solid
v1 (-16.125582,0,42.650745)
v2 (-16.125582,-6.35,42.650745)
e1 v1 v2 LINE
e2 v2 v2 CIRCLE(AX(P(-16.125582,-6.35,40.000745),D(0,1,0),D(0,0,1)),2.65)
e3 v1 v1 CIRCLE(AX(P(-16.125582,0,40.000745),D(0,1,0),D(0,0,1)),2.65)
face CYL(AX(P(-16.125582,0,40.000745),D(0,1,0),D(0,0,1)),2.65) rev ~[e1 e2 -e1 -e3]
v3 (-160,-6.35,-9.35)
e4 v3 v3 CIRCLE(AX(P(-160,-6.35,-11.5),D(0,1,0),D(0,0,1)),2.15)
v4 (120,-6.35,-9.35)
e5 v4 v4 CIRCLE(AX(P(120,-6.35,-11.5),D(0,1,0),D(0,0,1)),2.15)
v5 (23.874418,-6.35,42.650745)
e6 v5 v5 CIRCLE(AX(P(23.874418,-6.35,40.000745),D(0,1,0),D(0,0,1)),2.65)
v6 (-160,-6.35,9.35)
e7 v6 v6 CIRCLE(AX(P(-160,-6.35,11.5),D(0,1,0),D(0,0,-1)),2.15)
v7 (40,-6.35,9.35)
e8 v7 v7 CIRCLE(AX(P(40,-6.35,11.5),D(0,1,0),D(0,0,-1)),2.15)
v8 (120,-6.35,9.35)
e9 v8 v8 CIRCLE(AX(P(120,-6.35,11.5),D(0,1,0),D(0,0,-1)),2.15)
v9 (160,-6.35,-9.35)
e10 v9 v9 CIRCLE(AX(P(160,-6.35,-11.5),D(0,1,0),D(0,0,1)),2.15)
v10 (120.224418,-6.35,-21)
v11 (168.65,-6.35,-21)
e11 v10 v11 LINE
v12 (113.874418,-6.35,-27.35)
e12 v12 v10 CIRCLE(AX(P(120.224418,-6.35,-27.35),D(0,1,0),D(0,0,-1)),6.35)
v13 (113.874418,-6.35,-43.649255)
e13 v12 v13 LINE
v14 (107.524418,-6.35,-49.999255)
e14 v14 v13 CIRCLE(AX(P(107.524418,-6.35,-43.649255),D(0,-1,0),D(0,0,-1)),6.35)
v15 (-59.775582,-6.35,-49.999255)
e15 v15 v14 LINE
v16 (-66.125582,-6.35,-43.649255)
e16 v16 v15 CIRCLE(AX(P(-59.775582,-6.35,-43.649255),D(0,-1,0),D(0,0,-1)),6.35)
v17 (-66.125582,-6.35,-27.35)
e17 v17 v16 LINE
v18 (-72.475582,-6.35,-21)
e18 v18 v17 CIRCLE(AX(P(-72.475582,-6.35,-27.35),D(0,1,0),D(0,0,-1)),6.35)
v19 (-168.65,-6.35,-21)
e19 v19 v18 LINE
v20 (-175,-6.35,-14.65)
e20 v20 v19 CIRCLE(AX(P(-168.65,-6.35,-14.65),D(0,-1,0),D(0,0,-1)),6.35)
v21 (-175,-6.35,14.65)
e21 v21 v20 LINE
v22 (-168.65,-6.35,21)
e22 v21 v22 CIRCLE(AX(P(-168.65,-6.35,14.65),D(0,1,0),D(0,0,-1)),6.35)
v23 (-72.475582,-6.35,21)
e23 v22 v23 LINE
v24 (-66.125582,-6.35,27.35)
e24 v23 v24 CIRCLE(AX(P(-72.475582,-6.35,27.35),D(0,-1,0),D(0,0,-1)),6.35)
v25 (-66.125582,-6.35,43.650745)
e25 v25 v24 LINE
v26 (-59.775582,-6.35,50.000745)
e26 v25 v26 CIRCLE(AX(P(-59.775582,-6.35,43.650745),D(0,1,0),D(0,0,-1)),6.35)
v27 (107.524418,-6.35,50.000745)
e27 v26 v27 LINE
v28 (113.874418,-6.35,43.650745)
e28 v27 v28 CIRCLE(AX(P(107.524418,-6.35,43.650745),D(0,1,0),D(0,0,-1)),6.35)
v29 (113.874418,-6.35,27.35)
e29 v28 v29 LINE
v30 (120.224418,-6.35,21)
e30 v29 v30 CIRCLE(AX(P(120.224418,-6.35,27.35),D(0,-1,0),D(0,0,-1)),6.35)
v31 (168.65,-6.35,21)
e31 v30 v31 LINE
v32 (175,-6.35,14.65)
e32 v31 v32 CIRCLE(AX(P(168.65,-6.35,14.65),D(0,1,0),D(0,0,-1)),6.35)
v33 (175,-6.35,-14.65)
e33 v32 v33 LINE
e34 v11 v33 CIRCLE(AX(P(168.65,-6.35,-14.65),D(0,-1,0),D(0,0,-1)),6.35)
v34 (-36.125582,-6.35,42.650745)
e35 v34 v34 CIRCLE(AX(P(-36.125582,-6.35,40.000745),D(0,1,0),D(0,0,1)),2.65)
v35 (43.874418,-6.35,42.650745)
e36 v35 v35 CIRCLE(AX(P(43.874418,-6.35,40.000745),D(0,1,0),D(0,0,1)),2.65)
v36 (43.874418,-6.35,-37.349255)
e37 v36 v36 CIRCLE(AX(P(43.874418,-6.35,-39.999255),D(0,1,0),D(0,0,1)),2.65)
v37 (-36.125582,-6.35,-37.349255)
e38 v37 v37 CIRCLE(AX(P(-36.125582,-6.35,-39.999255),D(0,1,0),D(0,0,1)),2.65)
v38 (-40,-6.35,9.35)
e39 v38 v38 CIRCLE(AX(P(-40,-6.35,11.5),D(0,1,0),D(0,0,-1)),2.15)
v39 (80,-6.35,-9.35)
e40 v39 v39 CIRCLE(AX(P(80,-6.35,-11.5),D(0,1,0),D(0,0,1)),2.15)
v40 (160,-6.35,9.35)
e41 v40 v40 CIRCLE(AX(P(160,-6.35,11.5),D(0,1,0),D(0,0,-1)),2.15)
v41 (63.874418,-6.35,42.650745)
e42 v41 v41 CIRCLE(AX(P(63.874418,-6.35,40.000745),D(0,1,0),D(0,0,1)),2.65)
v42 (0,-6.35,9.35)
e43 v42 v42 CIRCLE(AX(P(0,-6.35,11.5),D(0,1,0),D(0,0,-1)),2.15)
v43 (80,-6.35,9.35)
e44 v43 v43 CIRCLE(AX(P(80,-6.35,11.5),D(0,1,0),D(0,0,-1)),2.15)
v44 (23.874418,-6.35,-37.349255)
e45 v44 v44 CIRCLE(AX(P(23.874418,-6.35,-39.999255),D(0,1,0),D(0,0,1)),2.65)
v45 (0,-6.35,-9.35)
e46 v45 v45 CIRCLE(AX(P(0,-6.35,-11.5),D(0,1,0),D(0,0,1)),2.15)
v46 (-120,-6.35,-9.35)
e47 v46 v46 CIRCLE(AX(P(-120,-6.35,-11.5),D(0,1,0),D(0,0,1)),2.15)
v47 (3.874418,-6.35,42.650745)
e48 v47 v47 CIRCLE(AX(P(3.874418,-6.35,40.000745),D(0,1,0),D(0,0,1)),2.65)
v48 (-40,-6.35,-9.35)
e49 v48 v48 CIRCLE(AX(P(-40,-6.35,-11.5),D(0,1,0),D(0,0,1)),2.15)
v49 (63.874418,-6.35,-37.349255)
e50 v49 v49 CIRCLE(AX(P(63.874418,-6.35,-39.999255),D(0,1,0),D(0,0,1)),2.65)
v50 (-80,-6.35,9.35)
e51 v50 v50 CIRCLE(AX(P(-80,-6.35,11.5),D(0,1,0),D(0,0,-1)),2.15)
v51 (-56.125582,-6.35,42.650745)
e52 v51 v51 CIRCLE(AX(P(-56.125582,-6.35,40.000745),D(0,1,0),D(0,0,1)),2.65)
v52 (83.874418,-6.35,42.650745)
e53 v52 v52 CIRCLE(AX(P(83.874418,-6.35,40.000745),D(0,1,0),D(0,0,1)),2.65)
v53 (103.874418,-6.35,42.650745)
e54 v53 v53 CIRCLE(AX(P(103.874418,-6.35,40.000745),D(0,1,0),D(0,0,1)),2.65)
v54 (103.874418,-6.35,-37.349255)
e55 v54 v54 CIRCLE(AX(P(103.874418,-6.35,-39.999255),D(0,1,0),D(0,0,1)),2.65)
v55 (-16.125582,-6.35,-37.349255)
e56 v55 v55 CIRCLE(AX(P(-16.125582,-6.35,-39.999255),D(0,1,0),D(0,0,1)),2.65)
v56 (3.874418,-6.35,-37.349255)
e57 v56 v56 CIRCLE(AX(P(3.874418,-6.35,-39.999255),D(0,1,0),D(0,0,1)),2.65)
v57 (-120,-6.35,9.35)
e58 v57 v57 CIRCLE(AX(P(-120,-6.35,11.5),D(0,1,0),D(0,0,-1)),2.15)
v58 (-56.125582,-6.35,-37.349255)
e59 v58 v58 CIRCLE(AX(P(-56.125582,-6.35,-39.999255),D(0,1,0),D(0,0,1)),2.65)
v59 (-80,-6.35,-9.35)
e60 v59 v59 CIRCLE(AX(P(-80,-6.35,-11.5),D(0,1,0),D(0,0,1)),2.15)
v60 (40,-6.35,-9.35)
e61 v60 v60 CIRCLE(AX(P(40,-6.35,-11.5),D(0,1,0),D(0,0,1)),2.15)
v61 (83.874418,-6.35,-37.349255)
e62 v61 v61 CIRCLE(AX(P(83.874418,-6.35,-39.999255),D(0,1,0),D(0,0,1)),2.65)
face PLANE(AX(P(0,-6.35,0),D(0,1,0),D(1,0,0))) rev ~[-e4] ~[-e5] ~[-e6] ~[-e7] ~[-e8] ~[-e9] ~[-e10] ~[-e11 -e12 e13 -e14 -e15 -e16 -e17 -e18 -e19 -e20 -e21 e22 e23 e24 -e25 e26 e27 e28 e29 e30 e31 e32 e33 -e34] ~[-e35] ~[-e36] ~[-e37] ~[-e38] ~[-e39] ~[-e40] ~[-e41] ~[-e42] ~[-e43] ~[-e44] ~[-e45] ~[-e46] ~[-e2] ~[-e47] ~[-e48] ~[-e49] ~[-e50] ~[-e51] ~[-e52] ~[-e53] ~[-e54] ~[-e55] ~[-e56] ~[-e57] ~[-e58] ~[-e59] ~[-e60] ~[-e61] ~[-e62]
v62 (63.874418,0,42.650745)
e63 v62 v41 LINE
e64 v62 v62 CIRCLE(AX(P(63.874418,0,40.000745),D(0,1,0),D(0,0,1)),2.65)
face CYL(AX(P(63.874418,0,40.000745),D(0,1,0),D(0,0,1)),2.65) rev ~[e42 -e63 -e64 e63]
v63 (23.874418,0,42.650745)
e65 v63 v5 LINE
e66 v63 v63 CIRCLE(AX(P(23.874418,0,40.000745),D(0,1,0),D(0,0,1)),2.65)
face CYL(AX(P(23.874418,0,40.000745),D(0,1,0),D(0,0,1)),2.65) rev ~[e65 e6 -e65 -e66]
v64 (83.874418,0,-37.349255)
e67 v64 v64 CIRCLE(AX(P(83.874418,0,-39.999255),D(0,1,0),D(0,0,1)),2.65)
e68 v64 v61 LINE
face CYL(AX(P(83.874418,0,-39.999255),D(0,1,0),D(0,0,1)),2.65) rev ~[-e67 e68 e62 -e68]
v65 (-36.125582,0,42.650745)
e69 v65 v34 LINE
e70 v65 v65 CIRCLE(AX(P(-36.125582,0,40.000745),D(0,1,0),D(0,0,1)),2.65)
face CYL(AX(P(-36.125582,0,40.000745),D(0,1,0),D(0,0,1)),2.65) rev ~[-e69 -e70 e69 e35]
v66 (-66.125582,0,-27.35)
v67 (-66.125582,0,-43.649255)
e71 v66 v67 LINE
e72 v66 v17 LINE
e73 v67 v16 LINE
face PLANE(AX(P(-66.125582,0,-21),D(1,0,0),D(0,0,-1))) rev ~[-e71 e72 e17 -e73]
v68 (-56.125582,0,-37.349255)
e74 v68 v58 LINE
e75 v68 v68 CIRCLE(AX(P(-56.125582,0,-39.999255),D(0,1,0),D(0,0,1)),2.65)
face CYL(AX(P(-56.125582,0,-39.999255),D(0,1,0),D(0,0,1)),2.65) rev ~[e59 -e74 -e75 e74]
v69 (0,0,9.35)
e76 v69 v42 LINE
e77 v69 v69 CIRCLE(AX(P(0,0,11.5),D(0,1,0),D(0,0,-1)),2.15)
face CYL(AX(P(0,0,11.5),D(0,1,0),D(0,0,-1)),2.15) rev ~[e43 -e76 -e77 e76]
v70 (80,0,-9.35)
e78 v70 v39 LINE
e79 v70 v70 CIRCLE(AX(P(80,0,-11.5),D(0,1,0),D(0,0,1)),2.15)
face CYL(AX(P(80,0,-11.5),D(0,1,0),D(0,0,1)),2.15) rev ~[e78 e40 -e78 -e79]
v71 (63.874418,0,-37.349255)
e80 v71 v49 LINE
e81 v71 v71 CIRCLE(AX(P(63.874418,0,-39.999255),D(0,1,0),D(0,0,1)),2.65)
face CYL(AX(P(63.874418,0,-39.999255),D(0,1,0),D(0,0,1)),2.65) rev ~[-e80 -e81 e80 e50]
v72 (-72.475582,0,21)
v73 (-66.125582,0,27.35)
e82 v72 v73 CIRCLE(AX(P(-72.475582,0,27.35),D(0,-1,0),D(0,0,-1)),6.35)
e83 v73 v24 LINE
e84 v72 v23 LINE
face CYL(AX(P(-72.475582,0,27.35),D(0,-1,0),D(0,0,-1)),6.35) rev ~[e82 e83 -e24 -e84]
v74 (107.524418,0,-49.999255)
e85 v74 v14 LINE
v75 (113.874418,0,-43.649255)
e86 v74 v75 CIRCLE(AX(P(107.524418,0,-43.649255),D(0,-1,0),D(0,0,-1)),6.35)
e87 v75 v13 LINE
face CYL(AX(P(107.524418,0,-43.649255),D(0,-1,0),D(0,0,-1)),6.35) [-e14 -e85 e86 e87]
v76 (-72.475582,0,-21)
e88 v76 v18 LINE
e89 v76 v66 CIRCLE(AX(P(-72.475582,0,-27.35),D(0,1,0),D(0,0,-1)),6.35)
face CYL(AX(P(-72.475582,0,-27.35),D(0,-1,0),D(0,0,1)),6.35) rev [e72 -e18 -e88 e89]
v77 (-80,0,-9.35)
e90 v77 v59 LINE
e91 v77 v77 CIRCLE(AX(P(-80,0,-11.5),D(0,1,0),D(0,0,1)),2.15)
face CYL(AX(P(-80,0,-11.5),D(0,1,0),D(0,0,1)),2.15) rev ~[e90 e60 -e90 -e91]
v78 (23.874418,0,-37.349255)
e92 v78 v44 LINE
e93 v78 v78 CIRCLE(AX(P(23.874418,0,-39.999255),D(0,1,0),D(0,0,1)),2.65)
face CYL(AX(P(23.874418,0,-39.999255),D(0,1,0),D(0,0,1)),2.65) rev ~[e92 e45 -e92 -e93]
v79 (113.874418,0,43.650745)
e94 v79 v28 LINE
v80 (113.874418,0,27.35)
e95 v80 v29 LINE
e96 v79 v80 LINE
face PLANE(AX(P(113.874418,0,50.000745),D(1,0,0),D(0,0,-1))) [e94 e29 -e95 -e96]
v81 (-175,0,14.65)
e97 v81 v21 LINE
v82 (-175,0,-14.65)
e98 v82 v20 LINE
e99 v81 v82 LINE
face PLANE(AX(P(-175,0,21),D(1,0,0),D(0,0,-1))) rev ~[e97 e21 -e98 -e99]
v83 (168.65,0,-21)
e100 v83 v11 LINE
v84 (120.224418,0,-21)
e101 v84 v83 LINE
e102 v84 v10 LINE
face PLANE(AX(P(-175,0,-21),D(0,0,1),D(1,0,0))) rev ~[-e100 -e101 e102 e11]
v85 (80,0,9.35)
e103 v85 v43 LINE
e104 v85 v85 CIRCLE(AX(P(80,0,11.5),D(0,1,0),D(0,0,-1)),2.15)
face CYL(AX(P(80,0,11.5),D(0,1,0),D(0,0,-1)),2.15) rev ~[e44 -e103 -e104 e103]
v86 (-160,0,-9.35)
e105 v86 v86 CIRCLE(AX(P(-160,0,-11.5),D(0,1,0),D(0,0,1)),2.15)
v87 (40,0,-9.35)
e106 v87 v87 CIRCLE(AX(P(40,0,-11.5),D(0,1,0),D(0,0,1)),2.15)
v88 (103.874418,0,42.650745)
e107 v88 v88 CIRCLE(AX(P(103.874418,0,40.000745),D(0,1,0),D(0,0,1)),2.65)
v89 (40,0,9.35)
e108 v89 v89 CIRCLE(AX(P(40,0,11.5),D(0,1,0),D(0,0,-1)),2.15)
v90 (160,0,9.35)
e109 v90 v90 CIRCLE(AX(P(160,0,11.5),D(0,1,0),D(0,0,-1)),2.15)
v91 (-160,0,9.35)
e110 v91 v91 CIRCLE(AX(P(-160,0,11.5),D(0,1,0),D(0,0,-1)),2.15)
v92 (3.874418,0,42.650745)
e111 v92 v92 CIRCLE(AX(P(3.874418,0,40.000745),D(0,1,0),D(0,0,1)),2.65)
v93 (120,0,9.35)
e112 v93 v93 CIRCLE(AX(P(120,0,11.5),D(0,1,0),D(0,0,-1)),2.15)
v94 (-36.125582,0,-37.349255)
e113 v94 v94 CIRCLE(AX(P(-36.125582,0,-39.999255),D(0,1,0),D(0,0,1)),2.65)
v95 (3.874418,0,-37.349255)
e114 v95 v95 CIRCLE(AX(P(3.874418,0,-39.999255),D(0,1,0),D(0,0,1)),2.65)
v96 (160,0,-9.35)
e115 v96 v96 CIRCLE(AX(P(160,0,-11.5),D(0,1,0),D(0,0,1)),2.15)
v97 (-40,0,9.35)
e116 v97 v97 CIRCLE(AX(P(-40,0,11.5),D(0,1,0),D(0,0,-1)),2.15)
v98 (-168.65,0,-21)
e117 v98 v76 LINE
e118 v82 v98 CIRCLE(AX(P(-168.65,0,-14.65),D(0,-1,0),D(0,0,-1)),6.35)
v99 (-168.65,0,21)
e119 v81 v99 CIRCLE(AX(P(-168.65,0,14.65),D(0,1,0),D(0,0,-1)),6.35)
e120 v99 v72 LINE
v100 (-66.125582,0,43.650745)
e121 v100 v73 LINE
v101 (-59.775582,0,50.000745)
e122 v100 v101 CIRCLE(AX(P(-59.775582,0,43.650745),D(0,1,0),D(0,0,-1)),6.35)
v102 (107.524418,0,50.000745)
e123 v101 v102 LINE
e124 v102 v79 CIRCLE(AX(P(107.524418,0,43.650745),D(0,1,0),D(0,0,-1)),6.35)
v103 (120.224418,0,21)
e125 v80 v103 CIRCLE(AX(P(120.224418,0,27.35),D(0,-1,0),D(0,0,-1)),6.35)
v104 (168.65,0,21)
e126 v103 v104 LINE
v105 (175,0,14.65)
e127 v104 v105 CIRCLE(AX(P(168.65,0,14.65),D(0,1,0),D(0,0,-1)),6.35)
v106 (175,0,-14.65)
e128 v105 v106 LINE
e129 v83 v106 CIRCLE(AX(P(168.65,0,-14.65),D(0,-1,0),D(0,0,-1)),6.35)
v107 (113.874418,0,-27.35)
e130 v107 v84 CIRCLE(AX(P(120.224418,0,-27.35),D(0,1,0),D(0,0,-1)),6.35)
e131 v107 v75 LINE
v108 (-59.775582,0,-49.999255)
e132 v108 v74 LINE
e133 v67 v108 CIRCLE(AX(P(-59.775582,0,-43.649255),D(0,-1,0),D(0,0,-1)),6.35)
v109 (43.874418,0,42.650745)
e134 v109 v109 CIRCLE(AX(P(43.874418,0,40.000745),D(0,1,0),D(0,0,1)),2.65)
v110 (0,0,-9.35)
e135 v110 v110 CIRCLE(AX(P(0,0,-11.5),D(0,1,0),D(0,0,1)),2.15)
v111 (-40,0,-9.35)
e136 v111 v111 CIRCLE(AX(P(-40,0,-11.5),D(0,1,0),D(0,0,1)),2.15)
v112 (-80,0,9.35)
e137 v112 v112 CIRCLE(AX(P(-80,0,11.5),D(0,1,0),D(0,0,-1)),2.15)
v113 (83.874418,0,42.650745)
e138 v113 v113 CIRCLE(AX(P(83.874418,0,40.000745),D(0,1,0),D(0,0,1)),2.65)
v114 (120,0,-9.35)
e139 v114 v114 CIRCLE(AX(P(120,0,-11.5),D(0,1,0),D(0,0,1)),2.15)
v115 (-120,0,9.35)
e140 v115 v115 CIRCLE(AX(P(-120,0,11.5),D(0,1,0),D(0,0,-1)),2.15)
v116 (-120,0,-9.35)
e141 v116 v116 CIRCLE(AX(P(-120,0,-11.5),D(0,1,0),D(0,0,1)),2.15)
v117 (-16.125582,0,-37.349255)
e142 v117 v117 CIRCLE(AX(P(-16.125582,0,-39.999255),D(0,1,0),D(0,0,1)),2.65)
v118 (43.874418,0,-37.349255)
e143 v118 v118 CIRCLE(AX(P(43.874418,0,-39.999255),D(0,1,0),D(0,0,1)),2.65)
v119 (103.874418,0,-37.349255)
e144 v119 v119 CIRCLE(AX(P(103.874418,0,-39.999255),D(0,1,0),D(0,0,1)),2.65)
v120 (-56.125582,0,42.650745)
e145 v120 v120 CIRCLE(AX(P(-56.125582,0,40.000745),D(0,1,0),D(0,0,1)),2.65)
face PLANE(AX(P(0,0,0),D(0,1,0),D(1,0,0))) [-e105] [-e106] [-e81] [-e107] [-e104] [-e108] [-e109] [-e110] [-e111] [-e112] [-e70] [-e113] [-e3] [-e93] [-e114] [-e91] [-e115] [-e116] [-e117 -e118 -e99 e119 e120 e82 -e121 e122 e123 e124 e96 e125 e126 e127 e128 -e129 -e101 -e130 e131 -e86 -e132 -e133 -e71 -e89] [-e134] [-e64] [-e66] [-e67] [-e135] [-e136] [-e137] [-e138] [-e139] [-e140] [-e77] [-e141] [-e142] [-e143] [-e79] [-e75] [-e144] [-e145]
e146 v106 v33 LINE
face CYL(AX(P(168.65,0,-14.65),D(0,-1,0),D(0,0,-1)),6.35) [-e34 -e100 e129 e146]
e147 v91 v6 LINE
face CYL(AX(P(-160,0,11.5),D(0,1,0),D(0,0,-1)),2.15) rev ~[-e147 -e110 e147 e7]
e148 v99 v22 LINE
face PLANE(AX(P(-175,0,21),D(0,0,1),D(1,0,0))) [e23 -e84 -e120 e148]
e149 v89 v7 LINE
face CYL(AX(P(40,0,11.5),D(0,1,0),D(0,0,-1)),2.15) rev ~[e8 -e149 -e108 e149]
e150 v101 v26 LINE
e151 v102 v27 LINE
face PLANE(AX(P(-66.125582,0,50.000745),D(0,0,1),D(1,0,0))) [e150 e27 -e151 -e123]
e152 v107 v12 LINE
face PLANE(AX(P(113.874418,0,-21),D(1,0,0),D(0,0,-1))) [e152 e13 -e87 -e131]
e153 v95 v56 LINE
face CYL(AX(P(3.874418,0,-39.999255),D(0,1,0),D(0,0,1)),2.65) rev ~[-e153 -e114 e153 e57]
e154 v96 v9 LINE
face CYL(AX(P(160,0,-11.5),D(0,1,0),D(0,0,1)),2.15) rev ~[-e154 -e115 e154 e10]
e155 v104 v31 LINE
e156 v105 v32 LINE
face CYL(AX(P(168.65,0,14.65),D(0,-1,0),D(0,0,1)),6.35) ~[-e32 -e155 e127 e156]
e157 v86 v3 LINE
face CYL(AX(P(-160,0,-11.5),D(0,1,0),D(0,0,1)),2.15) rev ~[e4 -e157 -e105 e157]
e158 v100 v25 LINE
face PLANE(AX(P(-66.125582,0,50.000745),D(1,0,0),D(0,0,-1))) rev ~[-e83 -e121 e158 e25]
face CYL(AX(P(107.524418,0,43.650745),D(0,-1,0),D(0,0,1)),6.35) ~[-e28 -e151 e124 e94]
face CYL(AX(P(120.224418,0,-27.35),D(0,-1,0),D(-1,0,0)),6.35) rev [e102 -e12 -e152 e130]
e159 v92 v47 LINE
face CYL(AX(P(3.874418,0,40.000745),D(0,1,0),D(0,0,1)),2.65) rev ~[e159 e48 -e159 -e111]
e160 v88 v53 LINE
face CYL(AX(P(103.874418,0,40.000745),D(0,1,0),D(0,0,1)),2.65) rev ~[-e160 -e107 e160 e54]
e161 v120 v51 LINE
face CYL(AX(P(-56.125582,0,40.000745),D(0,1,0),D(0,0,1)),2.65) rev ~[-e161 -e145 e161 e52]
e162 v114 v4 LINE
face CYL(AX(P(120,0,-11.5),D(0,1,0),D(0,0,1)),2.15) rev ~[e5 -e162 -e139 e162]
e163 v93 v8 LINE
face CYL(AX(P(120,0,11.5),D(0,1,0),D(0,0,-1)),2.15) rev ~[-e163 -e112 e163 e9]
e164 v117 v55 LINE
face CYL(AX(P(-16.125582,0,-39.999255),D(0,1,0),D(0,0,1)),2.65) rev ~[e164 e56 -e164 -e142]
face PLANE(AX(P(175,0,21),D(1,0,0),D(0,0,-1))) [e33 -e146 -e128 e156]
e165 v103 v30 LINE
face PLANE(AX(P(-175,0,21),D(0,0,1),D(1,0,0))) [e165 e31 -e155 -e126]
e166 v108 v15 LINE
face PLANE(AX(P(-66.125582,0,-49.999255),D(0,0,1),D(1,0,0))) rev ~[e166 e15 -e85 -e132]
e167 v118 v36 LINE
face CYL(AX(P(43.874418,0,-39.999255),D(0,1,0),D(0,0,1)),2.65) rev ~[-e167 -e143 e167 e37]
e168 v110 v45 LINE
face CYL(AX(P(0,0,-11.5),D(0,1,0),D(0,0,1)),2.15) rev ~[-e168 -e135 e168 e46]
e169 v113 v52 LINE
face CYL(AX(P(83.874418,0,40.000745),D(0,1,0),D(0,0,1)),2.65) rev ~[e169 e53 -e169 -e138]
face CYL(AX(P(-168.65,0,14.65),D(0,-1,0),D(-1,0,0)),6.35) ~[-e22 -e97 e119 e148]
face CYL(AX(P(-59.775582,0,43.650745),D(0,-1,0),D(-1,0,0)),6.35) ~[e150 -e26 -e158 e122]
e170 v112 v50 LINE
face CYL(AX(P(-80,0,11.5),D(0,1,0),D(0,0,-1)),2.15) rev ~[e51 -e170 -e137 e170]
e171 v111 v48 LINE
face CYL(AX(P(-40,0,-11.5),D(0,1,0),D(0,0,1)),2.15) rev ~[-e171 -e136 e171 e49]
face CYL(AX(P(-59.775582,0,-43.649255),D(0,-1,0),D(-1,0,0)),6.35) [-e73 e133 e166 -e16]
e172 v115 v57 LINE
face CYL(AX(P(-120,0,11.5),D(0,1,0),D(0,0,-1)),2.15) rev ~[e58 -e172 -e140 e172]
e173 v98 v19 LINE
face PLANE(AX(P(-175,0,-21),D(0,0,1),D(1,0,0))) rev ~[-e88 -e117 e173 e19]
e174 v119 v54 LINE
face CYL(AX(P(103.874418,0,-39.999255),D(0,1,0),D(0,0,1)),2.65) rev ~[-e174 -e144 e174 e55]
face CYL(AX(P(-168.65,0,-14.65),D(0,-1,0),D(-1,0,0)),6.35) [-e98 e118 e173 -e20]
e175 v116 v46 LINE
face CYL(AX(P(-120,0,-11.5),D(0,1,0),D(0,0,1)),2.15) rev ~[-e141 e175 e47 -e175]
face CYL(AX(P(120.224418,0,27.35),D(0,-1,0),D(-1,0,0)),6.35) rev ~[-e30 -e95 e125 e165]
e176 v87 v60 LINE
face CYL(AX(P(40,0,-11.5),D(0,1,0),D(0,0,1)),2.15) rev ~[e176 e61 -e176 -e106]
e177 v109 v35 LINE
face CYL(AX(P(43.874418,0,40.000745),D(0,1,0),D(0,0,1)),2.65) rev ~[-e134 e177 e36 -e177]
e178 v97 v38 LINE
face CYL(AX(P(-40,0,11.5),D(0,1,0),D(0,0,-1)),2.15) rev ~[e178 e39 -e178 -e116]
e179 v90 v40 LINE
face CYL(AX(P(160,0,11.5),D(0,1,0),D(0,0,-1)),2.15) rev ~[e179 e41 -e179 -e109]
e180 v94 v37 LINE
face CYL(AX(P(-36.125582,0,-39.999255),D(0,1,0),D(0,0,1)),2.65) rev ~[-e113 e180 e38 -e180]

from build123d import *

# Parameters (mm, degrees)
SKETCH7_W           = 350
SKETCH7_H           = 42
BOSS_EXTRUDE3_DEPTH = 6.35
SKETCH2_R           = 2.15
CUT_EXTRUDE1_DEPTH  = 177.369845779
SKETCH1_W           = 180
SKETCH1_H           = 29.00074531
SKETCH1_H_2         = 28.99925469
BOSS_EXTRUDE4_DEPTH = 6.35
SKETCH3_R           = 2.65
CUT_EXTRUDE2_DEPTH  = 183.113692598
FILLET2_R           = 6.35


with BuildPart() as part:
    # Sketch7 → Boss-Extrude3 (new body)
    with BuildSketch(Plane(origin=(0, 0, 0), x_dir=(1, 0, 0), z_dir=(0, 1, 0))):
        Rectangle(SKETCH7_W, SKETCH7_H)
    extrude(amount=-BOSS_EXTRUDE3_DEPTH)

    # Sketch2 → Cut-Extrude1 (cut, through all)
    with BuildSketch(Plane(origin=(0, 0, 0), x_dir=(1, 0, 0), z_dir=(0, 1, 0))):
        with Locations(Location((120, 11.5, 0), (0, 0, 270))):
            Circle(SKETCH2_R)
        with Locations(Location((120, -11.5, 0), (0, 0, 90))):
            Circle(SKETCH2_R)
        with Locations(Location((80, 11.5, 0), (0, 0, 270))):
            Circle(SKETCH2_R)
        with Locations(Location((160, 11.5, 0), (0, 0, 270))):
            Circle(SKETCH2_R)
        with Locations(Location((80, -11.5, 0), (0, 0, 90))):
            Circle(SKETCH2_R)
        with Locations(Location((160, -11.5, 0), (0, 0, 90))):
            Circle(SKETCH2_R)
        with Locations(Location((40, 11.5, 0), (0, 0, 270))):
            Circle(SKETCH2_R)
        with Locations(Location((40, -11.5, 0), (0, 0, 90))):
            Circle(SKETCH2_R)
        with Locations(Location((0, 11.5, 0), (0, 0, 270))):
            Circle(SKETCH2_R)
        with Locations(Location((0, -11.5, 0), (0, 0, 90))):
            Circle(SKETCH2_R)
        with Locations(Location((-40, 11.5, 0), (0, 0, 270))):
            Circle(SKETCH2_R)
        with Locations(Location((-40, -11.5, 0), (0, 0, 90))):
            Circle(SKETCH2_R)
        with Locations(Location((-80, 11.5, 0), (0, 0, 270))):
            Circle(SKETCH2_R)
        with Locations(Location((-80, -11.5, 0), (0, 0, 90))):
            Circle(SKETCH2_R)
        with Locations(Location((-120, 11.5, 0), (0, 0, 270))):
            Circle(SKETCH2_R)
        with Locations(Location((-120, -11.5, 0), (0, 0, 90))):
            Circle(SKETCH2_R)
        with Locations(Location((-160, 11.5, 0), (0, 0, 270))):
            Circle(SKETCH2_R)
        with Locations(Location((-160, -11.5, 0), (0, 0, 90))):
            Circle(SKETCH2_R)
    extrude(amount=-CUT_EXTRUDE1_DEPTH, mode=Mode.SUBTRACT)

    # Sketch1 → Boss-Extrude4 (add, through all)
    with BuildSketch(Plane(origin=(0, 0, 0), x_dir=(1, 0, 0), z_dir=(0, 1, 0))):
        with Locations((23.874417882, -35.500372655)):
            Rectangle(SKETCH1_W, SKETCH1_H)
        with Locations((23.874417882, 35.499627345)):
            Rectangle(SKETCH1_W, SKETCH1_H_2)
    extrude(amount=-BOSS_EXTRUDE4_DEPTH)

    # Sketch3 → Cut-Extrude2 (cut, through all)
    with BuildSketch(Plane(origin=(0, 0, 0), x_dir=(1, 0, 0), z_dir=(0, 1, 0))):
        with Locations(Location((23.874417882, 39.99925469, 0), (0, 0, 270))):
            Circle(SKETCH3_R)
        with Locations(Location((43.874417882, 39.99925469, 0), (0, 0, 270))):
            Circle(SKETCH3_R)
        with Locations(Location((63.874417882, 39.99925469, 0), (0, 0, 270))):
            Circle(SKETCH3_R)
        with Locations(Location((103.874417882, 39.99925469, 0), (0, 0, 270))):
            Circle(SKETCH3_R)
        with Locations(Location((-36.125582118, 39.99925469, 0), (0, 0, 270))):
            Circle(SKETCH3_R)
        with Locations(Location((83.874417882, 39.99925469, 0), (0, 0, 270))):
            Circle(SKETCH3_R)
        with Locations(Location((-56.125582118, 39.99925469, 0), (0, 0, 270))):
            Circle(SKETCH3_R)
        with Locations(Location((-16.125582118, 39.99925469, 0), (0, 0, 270))):
            Circle(SKETCH3_R)
        with Locations(Location((3.874417882, 39.99925469, 0), (0, 0, 270))):
            Circle(SKETCH3_R)
        with Locations(Location((3.874417882, -40.00074531, 0), (0, 0, 270))):
            Circle(SKETCH3_R)
        with Locations(Location((-16.125582118, -40.00074531, 0), (0, 0, 270))):
            Circle(SKETCH3_R)
        with Locations(Location((-56.125582118, -40.00074531, 0), (0, 0, 270))):
            Circle(SKETCH3_R)
        with Locations(Location((83.874417882, -40.00074531, 0), (0, 0, 270))):
            Circle(SKETCH3_R)
        with Locations(Location((-36.125582118, -40.00074531, 0), (0, 0, 270))):
            Circle(SKETCH3_R)
        with Locations(Location((103.874417882, -40.00074531, 0), (0, 0, 270))):
            Circle(SKETCH3_R)
        with Locations(Location((63.874417882, -40.00074531, 0), (0, 0, 270))):
            Circle(SKETCH3_R)
        with Locations(Location((43.874417882, -40.00074531, 0), (0, 0, 270))):
            Circle(SKETCH3_R)
        with Locations(Location((23.874417882, -40.00074531, 0), (0, 0, 270))):
            Circle(SKETCH3_R)
    extrude(amount=-CUT_EXTRUDE2_DEPTH, mode=Mode.SUBTRACT)

    # Fillet2
    fillet2_edges = [part.edges().sort_by_distance(p)[0] for p in [
        (113.874417882, -3.175, 50.00074531),
        (113.874417882, -3.175, 21),
        (113.874417882, -3.175, -21),
        (113.874417882, -3.175, -49.99925469),
        (-66.125582118, -3.175, -49.99925469),
        (-66.125582118, -3.175, -21),
        (-175, -3.175, -21),
        (-175, -3.175, 21),
        (-66.125582118, -3.175, 50.00074531),
        (-66.125582118, -3.175, 21),
        (175, -3.175, 21),
        (175, -3.175, -21),
    ]]
    fillet(fillet2_edges, radius=FILLET2_R)


solid = part.part
